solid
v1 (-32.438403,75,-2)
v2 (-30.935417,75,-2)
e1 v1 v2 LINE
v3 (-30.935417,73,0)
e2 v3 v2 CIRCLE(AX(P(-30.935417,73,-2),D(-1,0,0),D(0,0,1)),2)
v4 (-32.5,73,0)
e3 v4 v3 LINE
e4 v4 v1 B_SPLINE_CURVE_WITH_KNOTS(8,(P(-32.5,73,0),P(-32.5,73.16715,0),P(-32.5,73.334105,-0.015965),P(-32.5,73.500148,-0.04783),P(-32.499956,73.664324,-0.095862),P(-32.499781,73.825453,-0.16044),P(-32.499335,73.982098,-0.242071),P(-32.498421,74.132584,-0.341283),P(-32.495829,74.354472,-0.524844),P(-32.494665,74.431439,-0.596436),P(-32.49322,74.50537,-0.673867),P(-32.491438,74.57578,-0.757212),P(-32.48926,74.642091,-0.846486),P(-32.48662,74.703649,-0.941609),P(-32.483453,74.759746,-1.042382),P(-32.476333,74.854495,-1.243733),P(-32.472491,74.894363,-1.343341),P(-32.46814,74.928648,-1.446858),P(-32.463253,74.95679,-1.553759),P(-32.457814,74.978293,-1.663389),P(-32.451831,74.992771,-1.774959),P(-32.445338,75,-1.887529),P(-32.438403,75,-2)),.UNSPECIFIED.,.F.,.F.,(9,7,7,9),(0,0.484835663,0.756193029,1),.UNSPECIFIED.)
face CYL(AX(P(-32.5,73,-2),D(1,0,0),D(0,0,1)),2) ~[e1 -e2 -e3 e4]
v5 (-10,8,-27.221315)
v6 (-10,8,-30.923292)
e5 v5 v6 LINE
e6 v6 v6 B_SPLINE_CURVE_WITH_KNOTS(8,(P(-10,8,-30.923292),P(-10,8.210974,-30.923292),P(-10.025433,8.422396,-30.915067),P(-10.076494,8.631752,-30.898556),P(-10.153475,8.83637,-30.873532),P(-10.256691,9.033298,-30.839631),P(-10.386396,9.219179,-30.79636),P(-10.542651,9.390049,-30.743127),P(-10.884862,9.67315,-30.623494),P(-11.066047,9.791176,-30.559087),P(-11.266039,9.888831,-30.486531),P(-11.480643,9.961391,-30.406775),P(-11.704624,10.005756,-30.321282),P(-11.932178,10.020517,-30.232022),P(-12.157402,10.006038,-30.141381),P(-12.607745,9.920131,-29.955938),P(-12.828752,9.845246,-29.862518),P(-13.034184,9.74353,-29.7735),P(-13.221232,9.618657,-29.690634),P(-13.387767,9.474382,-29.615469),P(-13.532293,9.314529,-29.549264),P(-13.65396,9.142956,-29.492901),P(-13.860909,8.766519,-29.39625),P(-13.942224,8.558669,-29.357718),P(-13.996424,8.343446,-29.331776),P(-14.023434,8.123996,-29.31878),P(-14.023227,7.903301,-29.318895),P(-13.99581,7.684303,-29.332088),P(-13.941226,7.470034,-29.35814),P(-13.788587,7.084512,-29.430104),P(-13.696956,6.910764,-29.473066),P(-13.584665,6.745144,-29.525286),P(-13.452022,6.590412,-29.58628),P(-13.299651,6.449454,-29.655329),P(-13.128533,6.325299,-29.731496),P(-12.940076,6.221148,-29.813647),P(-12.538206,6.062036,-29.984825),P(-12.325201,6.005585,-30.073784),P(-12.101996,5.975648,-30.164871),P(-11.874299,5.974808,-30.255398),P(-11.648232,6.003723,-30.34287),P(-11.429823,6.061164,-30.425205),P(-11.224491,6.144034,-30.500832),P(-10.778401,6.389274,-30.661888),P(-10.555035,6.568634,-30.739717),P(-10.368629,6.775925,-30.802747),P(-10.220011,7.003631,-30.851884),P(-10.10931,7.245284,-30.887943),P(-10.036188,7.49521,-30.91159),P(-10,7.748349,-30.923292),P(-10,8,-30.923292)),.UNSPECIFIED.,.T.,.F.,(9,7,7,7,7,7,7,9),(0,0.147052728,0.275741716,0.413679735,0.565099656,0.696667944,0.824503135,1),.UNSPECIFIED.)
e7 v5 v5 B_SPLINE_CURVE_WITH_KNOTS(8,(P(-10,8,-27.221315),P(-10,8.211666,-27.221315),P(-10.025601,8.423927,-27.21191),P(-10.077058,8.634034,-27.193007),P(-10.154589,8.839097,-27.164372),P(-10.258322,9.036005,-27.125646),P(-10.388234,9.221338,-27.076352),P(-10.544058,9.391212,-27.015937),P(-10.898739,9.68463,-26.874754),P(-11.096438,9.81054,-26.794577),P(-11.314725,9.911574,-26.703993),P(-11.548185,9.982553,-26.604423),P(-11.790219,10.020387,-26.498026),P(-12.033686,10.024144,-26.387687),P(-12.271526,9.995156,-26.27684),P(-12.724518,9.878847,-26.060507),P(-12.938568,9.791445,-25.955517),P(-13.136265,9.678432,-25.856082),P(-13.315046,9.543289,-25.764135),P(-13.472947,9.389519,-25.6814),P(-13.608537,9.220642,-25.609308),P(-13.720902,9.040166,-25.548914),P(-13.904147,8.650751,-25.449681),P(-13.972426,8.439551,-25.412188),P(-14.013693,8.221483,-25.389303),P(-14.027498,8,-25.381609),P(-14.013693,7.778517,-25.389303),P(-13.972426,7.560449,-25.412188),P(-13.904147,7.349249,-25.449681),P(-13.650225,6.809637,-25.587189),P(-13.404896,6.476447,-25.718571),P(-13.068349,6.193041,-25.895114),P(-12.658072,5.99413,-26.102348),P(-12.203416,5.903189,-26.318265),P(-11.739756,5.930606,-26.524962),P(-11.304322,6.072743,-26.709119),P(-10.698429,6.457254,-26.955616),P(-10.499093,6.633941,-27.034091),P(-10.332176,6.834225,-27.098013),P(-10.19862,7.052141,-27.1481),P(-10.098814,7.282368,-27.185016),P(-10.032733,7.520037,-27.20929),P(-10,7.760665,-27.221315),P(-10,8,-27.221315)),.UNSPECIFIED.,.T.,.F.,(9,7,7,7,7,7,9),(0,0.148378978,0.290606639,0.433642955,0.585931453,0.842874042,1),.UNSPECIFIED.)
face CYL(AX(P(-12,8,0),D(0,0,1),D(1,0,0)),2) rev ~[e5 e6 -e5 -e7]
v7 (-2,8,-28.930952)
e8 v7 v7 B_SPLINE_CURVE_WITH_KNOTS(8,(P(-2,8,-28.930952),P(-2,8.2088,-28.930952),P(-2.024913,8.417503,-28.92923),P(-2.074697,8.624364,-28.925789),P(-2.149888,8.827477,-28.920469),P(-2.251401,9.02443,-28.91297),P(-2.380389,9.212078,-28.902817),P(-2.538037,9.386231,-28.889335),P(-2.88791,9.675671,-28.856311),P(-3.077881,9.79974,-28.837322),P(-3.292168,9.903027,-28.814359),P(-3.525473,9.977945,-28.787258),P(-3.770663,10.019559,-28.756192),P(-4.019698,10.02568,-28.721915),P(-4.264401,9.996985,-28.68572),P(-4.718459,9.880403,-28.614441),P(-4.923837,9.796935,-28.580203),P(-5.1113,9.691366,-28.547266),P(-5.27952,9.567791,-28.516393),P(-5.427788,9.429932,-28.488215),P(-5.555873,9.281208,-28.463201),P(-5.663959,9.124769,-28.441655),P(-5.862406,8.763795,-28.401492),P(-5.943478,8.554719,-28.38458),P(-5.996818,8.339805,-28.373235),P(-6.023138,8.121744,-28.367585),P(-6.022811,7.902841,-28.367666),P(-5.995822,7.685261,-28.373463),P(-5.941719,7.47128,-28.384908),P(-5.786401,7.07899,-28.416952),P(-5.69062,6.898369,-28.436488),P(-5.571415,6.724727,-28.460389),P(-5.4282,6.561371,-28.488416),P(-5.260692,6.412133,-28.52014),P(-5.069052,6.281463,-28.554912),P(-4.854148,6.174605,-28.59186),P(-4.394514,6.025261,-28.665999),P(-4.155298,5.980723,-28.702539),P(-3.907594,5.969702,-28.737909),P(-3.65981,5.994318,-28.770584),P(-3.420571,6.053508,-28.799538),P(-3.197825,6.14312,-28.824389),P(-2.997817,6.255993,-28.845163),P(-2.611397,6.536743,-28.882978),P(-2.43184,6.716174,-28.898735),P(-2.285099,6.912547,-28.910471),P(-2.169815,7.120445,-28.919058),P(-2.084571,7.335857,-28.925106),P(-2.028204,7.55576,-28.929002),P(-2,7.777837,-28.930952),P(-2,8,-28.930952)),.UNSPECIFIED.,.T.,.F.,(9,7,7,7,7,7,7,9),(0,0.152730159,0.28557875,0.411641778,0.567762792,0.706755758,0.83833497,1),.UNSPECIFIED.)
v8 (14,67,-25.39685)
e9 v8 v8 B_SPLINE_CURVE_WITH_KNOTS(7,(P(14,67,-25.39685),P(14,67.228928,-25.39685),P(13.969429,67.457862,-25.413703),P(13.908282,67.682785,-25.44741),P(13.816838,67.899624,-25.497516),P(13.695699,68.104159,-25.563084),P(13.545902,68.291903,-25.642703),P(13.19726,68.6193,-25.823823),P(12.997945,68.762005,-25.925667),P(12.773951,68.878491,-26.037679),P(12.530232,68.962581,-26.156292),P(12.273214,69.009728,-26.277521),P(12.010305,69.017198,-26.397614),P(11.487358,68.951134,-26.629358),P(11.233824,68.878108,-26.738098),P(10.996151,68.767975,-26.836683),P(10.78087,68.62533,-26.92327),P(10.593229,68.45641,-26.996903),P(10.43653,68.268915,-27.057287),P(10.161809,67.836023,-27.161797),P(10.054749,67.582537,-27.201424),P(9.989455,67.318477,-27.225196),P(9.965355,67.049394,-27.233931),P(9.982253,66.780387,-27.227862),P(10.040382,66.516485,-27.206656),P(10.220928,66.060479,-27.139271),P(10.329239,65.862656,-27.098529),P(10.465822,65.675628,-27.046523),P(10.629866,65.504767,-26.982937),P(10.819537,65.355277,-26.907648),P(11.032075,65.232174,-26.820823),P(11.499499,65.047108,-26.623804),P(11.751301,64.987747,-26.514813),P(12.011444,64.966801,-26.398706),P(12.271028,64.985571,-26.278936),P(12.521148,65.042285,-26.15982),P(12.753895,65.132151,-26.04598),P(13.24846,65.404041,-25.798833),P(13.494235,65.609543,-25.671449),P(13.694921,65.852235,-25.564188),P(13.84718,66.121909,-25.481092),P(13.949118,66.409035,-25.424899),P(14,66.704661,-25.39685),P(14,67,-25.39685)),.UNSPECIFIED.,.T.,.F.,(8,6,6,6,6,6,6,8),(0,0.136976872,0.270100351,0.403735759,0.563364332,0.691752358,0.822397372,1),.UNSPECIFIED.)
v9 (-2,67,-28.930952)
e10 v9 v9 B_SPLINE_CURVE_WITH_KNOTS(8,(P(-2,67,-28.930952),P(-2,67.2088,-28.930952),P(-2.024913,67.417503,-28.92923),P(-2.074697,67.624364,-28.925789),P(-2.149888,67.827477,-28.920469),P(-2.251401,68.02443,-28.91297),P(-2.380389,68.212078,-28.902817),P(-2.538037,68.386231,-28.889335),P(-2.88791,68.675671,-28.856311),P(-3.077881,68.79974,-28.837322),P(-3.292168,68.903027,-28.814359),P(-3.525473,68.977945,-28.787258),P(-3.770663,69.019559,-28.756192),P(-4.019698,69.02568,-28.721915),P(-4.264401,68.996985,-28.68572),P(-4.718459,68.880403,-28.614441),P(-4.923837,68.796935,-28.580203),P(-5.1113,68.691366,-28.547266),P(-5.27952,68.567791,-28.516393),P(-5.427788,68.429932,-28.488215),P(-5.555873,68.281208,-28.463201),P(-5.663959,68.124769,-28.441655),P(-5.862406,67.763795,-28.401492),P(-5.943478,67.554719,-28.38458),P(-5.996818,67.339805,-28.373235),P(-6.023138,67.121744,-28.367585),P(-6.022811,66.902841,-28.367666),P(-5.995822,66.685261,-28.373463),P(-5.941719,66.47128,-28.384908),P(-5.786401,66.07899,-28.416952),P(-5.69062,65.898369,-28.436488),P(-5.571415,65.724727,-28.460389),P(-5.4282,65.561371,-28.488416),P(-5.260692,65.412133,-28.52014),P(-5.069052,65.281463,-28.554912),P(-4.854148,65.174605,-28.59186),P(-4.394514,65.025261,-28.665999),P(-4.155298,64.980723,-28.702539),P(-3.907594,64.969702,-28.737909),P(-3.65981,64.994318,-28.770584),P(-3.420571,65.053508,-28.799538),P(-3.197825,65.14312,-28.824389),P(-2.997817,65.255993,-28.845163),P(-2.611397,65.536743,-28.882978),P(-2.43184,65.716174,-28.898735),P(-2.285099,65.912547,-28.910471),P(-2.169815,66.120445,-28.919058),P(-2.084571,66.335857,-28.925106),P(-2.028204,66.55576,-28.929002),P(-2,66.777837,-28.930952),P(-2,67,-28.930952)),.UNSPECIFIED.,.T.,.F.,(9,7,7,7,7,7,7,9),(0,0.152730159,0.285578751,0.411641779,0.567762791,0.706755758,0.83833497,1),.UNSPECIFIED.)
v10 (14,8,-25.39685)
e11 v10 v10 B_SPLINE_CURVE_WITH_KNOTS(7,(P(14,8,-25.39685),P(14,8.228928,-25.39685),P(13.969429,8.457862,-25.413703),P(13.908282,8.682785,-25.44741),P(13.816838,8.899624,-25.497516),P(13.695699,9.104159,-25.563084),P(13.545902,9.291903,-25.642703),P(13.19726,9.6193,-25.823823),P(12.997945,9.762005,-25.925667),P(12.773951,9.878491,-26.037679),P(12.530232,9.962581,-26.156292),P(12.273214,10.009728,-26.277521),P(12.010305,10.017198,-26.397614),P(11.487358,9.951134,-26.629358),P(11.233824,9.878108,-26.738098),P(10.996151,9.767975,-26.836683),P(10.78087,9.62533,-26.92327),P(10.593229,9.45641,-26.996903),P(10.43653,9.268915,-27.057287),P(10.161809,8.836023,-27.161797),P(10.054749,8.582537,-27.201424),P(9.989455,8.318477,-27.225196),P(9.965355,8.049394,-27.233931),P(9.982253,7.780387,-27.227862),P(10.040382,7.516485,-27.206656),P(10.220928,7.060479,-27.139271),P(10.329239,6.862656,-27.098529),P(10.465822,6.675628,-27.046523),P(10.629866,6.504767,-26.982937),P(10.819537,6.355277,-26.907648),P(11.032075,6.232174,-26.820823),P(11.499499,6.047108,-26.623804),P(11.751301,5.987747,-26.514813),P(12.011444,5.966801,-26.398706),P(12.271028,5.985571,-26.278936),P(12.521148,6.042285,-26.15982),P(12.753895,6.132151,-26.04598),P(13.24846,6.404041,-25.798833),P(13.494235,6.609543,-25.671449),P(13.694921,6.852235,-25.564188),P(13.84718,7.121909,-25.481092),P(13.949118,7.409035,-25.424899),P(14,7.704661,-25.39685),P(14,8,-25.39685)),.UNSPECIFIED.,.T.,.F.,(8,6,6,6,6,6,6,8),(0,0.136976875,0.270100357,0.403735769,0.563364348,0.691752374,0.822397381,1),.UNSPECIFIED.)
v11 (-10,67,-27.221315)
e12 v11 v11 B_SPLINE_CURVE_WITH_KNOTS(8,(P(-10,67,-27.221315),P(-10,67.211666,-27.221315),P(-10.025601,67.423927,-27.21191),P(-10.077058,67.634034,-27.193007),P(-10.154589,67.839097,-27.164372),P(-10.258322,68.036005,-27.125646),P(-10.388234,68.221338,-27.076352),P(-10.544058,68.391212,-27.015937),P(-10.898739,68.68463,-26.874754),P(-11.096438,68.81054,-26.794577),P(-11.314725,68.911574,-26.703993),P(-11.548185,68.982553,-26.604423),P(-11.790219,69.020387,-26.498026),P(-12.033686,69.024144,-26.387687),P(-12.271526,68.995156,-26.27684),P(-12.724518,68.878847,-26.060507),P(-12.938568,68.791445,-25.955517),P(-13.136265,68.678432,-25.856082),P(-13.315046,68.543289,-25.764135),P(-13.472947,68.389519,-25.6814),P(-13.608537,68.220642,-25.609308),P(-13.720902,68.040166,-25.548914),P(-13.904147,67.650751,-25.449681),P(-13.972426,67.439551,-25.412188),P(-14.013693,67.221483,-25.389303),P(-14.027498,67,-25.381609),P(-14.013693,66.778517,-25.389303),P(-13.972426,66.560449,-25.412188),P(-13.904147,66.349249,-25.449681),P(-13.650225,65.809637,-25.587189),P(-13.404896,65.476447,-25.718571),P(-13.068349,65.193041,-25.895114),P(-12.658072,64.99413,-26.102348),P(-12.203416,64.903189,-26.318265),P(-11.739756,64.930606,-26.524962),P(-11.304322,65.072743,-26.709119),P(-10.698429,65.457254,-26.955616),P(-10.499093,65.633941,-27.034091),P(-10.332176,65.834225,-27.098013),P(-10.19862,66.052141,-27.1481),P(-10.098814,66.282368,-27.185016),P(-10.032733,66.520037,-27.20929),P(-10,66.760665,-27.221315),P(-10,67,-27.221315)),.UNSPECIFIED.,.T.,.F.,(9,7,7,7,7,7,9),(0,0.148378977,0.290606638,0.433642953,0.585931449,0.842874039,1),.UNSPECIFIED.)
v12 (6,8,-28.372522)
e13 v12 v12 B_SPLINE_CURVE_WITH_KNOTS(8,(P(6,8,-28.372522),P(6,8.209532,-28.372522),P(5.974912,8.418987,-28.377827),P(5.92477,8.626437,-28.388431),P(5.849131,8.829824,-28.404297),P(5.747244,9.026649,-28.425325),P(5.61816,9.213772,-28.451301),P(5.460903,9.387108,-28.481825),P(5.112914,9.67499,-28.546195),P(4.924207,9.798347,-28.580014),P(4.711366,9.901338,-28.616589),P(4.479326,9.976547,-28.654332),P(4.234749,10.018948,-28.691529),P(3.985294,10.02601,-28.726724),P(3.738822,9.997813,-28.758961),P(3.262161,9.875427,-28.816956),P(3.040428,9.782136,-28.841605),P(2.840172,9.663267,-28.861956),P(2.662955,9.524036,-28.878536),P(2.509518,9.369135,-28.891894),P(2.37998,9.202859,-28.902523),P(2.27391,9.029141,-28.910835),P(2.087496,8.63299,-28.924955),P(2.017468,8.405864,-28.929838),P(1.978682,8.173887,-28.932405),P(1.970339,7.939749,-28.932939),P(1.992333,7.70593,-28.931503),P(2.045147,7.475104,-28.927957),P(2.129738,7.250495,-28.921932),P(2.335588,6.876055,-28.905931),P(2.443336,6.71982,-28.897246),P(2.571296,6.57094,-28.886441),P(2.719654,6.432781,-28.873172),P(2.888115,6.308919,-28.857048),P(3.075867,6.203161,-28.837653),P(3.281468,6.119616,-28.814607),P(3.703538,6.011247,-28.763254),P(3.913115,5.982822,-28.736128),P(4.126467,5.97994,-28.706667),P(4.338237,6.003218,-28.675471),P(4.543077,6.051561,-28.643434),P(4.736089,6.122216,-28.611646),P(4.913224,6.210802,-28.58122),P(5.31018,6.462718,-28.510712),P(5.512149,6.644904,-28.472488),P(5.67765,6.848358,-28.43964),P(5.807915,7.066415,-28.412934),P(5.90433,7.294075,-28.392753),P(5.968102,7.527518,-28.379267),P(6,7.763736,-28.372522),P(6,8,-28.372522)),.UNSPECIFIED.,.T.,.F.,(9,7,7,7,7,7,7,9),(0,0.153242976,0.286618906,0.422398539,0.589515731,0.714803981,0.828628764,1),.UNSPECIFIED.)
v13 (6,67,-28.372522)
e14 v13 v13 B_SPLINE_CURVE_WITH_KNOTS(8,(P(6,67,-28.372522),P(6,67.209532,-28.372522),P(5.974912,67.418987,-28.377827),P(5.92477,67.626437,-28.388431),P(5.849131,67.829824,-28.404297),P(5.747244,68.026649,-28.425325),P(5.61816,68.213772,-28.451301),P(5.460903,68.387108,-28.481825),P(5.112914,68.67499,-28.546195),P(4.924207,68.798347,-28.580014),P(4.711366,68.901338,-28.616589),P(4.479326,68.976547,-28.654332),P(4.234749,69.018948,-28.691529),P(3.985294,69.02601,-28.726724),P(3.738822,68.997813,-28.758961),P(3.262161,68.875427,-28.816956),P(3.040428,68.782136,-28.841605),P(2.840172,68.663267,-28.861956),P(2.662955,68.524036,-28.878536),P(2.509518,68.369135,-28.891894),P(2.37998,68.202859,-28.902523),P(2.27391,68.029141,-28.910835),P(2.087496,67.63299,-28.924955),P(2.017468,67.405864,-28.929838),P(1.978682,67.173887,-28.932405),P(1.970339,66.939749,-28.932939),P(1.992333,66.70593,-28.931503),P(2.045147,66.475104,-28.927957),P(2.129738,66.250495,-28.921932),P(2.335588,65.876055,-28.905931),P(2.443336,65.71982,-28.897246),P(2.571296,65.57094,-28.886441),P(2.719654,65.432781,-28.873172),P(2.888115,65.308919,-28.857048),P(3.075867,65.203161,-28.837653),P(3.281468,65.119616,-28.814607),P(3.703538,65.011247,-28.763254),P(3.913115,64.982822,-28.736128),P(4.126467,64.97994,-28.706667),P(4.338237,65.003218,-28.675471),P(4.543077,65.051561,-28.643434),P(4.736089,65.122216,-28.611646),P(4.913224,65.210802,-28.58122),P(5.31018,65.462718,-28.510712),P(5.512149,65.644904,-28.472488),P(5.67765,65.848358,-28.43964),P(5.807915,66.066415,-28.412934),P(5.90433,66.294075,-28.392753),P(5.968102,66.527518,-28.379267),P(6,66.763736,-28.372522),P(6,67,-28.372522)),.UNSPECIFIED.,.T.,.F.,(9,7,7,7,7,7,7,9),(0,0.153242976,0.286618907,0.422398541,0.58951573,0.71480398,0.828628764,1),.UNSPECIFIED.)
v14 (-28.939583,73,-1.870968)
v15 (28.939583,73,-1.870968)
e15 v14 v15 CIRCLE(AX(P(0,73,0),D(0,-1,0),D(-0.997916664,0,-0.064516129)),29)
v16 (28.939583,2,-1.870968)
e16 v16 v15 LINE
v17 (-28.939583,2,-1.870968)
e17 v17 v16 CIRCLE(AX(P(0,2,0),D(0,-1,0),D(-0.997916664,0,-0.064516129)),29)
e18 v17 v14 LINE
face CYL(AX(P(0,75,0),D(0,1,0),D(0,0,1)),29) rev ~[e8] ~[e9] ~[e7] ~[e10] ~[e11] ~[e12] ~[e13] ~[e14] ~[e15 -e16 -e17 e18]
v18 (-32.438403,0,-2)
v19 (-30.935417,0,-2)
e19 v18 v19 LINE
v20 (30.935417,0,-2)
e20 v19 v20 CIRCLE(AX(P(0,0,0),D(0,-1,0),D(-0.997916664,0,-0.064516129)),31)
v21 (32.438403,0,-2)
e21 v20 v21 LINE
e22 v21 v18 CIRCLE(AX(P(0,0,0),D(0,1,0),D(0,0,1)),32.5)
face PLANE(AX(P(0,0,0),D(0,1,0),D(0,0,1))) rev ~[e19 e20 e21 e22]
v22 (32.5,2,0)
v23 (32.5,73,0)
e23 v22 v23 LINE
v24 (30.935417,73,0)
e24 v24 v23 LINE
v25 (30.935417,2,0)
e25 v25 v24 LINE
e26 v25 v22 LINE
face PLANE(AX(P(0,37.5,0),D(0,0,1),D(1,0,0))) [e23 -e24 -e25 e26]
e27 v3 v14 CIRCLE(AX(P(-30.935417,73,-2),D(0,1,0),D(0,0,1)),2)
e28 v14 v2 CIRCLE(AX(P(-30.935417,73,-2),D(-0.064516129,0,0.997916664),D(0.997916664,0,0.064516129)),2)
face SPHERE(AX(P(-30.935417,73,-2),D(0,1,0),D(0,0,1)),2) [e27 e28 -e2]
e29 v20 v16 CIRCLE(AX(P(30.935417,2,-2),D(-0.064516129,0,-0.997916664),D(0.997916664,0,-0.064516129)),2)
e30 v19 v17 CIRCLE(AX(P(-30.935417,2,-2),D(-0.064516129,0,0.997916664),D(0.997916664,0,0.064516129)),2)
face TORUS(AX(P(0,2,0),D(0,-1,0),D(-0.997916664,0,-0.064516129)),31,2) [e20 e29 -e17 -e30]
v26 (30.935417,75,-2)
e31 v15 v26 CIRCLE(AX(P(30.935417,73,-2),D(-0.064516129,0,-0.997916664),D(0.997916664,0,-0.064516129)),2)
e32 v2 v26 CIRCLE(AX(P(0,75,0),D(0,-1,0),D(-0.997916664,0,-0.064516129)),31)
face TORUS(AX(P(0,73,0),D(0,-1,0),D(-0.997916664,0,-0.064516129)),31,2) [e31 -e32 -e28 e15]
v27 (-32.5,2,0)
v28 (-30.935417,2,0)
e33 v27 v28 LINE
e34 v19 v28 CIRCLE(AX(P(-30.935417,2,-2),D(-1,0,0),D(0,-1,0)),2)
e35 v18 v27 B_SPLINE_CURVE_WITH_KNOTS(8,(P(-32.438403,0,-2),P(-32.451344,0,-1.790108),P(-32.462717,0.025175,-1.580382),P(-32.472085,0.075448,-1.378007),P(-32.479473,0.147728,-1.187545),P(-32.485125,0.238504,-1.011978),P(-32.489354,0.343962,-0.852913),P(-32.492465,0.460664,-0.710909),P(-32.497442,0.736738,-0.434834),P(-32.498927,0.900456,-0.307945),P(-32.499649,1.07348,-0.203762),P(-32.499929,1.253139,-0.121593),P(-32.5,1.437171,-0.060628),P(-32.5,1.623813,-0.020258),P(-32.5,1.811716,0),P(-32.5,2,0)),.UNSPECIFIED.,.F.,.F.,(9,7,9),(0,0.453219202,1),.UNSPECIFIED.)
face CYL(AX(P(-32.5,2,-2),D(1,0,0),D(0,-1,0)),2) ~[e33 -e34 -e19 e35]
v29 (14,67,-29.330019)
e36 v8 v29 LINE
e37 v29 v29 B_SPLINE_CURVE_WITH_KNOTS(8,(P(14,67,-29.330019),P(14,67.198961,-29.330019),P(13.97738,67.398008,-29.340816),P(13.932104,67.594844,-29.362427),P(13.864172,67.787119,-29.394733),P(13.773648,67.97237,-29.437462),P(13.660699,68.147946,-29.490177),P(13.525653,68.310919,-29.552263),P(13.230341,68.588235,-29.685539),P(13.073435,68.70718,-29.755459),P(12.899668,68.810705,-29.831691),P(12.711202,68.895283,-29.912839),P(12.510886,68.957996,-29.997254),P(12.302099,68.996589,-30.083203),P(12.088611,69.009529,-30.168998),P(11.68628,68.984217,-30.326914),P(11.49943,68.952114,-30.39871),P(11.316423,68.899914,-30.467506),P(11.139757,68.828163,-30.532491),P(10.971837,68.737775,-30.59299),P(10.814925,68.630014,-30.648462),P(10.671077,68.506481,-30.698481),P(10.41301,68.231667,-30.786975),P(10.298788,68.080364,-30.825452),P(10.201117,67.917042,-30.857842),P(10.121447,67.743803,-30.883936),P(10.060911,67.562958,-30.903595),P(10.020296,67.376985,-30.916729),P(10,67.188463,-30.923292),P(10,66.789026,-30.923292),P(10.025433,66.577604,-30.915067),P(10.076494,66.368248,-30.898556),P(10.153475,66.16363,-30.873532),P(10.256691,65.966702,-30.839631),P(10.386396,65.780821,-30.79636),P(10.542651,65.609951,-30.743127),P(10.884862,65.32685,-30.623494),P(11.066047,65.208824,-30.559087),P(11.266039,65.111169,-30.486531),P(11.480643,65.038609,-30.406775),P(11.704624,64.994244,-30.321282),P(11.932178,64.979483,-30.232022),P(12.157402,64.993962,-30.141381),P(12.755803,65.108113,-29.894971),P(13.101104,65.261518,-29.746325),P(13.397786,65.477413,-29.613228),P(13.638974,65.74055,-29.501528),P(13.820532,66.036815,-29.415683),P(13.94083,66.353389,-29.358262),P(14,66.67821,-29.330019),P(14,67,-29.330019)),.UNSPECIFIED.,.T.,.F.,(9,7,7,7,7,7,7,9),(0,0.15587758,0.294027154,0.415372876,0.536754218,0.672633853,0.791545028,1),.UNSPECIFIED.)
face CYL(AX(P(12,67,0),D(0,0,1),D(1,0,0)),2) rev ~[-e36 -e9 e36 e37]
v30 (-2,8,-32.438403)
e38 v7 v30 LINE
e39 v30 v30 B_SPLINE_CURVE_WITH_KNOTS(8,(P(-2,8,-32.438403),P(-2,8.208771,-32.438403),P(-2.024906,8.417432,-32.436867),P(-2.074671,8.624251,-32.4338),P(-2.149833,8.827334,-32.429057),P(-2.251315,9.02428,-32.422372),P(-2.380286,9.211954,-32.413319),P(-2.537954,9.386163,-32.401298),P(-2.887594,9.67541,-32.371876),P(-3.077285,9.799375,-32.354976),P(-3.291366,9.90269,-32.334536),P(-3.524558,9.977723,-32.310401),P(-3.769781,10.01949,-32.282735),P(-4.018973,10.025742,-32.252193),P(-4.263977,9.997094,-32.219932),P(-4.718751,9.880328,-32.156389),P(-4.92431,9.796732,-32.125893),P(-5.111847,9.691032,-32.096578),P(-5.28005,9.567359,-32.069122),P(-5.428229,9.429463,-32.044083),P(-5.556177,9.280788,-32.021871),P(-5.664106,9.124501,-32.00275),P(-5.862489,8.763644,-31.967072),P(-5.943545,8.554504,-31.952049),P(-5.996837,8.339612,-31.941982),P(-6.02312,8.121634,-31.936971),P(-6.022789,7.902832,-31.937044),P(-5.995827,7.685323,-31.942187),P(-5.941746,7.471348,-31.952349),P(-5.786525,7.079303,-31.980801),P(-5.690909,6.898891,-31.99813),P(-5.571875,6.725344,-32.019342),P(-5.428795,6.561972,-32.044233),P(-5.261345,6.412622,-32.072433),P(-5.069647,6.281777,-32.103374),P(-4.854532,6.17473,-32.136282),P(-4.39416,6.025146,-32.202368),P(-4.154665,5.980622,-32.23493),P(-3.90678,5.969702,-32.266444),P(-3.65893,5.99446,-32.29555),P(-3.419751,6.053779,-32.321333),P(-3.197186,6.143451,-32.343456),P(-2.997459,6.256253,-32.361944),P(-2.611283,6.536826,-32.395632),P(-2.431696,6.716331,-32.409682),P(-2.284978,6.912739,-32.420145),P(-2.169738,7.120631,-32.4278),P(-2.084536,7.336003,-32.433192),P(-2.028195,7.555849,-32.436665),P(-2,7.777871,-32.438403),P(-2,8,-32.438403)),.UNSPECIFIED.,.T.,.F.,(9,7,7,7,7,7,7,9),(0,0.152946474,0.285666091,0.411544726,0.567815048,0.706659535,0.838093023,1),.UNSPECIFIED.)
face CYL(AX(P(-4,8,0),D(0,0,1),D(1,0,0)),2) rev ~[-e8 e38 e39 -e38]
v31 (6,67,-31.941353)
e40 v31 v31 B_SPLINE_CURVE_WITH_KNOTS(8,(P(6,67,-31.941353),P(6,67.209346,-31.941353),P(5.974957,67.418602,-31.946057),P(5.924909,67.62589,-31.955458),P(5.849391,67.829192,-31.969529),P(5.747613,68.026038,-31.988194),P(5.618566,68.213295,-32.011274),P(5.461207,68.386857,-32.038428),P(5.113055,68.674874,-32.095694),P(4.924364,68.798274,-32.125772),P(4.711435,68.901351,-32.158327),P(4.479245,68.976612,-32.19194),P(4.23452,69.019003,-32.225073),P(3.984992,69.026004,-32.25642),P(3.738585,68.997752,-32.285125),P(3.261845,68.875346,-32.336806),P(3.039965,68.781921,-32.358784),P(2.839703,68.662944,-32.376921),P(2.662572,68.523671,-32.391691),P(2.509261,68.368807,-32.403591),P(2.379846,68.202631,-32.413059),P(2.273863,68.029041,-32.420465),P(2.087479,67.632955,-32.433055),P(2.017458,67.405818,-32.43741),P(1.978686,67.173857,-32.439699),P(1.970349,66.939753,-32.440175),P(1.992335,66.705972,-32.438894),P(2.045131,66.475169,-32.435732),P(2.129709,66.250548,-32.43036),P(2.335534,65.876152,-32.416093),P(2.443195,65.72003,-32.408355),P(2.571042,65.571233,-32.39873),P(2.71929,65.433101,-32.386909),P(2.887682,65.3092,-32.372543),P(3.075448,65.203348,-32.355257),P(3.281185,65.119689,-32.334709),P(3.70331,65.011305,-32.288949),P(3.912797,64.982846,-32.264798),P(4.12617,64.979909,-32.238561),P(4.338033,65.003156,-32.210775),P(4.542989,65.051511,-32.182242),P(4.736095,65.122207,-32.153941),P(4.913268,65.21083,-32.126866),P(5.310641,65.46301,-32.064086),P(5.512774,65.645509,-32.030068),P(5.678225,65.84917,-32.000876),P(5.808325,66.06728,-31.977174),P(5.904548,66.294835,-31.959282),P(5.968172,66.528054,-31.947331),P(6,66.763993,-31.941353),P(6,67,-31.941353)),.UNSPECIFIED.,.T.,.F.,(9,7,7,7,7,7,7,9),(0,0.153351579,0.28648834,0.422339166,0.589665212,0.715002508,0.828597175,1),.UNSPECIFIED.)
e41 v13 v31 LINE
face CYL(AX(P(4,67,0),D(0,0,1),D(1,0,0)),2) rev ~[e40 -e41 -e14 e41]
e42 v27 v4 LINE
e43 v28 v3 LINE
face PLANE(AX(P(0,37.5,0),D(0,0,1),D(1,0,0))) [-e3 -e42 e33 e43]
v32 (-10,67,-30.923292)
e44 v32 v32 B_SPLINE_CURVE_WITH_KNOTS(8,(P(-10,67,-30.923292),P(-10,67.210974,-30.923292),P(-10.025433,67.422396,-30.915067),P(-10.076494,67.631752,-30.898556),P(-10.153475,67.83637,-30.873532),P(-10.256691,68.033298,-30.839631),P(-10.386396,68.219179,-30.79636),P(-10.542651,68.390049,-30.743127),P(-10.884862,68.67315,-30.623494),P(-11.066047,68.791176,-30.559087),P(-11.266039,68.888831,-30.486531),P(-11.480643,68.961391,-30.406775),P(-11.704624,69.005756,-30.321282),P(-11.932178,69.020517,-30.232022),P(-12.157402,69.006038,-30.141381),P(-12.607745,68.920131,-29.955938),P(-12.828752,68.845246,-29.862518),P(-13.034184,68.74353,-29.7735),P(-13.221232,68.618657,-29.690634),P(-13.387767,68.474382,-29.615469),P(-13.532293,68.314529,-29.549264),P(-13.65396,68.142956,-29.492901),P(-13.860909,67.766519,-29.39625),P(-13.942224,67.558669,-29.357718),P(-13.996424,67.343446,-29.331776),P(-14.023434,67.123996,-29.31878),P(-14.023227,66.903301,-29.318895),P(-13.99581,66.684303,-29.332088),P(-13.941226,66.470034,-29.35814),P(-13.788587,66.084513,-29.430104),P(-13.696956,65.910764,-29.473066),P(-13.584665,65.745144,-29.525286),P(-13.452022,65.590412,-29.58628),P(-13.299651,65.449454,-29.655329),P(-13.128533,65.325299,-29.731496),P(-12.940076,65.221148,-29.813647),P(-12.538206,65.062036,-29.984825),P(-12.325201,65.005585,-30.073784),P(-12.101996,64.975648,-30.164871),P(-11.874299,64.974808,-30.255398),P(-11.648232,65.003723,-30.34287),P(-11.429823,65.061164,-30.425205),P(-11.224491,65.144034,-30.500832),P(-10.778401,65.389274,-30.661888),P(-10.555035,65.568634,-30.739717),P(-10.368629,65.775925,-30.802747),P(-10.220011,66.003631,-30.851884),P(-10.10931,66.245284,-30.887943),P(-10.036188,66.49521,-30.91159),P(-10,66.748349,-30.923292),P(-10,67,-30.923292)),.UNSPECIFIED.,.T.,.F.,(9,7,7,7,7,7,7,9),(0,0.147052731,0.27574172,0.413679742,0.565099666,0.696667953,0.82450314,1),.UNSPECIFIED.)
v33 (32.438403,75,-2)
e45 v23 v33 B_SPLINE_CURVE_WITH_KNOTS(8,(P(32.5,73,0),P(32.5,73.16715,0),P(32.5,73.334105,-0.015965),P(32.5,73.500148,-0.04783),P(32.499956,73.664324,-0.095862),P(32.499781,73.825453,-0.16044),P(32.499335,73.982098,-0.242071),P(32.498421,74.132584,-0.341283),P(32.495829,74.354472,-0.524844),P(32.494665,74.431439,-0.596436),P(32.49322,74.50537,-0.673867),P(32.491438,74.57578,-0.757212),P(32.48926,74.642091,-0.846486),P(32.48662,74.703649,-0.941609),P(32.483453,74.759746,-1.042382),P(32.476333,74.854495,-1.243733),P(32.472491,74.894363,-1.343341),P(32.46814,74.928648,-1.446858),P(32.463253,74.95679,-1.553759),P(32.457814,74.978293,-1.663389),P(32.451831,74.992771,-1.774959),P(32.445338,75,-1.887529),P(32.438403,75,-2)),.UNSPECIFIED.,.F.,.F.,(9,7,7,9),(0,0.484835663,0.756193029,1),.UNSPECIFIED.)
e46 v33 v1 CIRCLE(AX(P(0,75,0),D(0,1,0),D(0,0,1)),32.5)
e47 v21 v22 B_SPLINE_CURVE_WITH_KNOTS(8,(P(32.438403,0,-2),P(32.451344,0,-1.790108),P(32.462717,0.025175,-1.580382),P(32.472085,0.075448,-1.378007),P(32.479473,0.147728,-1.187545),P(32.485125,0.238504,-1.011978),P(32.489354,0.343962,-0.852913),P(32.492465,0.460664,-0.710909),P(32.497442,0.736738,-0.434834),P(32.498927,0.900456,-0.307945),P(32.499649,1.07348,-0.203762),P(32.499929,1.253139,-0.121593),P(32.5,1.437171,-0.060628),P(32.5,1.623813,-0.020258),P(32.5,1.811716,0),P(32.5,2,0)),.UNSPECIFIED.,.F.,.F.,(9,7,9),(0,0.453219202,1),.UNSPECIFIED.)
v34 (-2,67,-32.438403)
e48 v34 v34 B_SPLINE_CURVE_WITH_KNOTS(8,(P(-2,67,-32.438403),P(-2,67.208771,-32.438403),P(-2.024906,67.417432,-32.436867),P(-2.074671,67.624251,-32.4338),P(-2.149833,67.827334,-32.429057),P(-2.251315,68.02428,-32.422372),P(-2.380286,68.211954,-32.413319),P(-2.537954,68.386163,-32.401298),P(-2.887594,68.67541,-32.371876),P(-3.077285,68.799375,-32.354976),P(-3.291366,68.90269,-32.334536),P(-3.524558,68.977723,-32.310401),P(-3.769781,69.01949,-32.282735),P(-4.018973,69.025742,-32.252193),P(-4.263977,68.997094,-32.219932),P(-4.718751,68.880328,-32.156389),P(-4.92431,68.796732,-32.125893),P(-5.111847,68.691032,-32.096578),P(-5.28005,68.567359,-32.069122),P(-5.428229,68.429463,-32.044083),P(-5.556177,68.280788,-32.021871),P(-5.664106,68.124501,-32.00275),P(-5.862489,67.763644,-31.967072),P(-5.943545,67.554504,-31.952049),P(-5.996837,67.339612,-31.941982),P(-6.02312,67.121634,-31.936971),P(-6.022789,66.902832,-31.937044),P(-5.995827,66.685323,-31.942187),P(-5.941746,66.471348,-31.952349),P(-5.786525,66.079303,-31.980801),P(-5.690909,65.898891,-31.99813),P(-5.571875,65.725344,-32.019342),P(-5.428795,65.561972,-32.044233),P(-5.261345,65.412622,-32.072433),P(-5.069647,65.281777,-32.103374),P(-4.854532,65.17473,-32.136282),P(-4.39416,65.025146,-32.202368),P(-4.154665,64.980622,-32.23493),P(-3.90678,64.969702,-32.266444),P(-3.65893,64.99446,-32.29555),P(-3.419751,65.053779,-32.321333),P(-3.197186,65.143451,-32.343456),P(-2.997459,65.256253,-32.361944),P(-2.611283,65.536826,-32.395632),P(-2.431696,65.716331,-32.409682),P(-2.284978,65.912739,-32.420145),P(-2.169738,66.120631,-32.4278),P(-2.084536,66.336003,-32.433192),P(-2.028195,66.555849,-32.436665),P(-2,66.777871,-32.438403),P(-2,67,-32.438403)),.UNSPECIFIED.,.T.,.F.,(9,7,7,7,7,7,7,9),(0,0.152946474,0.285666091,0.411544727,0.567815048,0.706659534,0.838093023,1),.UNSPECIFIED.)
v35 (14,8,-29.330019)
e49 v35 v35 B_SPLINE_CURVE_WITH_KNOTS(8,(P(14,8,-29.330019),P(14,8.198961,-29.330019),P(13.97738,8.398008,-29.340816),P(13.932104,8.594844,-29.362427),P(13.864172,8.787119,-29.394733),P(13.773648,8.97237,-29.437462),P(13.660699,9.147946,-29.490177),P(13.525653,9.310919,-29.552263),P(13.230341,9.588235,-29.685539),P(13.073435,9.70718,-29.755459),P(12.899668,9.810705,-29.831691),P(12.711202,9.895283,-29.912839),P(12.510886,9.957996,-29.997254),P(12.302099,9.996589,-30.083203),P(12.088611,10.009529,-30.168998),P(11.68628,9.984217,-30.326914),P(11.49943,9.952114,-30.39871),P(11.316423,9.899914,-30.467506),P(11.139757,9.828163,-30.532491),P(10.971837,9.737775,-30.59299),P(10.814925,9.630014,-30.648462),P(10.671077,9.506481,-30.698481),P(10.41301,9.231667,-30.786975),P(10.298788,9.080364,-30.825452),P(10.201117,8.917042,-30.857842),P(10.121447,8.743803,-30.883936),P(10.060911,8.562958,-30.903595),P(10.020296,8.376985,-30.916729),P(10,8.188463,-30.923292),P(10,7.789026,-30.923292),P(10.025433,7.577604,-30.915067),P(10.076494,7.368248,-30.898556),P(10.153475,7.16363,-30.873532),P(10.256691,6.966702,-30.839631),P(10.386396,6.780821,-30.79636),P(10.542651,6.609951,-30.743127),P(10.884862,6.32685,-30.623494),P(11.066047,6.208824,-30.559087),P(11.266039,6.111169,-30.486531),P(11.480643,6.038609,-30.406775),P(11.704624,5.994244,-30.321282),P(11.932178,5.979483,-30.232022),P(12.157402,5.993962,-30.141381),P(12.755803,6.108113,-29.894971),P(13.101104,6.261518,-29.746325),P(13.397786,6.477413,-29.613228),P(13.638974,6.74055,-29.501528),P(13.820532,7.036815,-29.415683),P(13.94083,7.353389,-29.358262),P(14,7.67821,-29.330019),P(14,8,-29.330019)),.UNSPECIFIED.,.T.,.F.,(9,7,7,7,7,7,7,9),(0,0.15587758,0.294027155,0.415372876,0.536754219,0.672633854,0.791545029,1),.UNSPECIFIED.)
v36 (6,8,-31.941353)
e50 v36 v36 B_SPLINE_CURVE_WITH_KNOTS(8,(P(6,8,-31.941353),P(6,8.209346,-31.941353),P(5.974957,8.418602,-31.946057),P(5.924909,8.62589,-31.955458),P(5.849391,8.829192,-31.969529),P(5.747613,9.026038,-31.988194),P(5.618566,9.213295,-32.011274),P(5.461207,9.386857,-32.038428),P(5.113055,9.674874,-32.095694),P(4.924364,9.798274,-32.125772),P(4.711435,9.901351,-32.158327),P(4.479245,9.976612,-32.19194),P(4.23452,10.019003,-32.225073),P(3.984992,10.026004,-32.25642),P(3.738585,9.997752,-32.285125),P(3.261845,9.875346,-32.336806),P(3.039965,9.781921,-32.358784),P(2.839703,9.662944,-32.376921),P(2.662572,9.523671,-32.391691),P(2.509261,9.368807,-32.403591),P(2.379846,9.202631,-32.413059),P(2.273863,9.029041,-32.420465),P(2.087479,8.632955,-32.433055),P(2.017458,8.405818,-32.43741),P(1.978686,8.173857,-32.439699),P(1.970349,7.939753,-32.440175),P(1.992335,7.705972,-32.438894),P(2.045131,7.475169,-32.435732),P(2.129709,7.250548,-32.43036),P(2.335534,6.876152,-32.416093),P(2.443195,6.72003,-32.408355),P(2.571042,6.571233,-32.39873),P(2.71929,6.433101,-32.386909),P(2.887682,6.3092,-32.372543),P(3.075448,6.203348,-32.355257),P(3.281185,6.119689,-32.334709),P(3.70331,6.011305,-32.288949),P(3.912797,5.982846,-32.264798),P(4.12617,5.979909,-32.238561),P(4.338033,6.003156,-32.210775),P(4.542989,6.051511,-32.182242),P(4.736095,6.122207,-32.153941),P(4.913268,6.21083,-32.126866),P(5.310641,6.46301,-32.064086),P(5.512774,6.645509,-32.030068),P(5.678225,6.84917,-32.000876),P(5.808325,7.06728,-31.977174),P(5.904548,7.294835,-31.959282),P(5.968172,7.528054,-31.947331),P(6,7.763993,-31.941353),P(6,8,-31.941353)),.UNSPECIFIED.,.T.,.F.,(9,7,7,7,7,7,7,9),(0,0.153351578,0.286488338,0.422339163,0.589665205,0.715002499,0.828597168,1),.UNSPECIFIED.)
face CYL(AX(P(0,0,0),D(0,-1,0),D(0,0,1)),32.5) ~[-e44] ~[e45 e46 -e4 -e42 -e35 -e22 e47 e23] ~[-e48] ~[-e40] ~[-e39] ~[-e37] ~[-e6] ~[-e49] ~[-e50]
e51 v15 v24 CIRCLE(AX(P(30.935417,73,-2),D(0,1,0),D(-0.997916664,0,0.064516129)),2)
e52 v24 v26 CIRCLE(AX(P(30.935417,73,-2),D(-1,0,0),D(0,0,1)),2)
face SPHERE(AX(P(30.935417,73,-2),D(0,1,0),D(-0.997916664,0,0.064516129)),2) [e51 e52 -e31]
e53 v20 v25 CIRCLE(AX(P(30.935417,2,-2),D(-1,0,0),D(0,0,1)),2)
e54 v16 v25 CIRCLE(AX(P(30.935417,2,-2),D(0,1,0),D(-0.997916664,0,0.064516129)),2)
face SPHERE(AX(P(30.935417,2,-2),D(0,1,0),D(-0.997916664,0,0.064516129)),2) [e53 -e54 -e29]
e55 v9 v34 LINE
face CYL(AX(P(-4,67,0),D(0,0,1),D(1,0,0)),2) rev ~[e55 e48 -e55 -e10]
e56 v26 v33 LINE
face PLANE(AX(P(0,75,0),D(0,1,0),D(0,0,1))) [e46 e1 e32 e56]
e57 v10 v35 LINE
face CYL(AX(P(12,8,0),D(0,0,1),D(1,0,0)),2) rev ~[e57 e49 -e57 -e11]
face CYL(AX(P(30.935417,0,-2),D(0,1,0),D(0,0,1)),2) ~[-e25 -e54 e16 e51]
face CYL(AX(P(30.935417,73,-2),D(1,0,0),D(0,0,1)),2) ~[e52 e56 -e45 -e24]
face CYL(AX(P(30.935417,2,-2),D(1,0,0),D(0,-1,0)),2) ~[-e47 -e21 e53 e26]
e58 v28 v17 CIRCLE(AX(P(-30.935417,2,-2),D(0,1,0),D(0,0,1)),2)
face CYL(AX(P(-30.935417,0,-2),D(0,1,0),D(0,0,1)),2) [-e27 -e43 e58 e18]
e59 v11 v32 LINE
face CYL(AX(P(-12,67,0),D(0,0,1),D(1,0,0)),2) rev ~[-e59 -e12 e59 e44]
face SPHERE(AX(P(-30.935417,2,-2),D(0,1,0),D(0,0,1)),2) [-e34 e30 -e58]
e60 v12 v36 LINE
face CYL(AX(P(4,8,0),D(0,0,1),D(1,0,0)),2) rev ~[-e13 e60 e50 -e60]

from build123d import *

# Parameters (mm, degrees)
SKETCH_2_R          = 32.5
EXTRUDE_1_DEPTH     = 75
SKETCH_3_R          = 29
CUT_EXTRUDE_1_DEPTH = 142.5
SKETCH_4_W          = 65
SKETCH_4_H          = 75
CUT_EXTRUDE_2_DEPTH = 50
SKETCH_5_R          = 2
CUT_EXTRUDE_3_DEPTH = 50
FILLET_1_R          = 2
FILLET_2_R          = 2
FILLET_3_R          = 2


with BuildPart() as part:
    # 草圖2 → 填料-伸長1 (new body)
    with BuildSketch(Plane(origin=(0, 0, 0), x_dir=(1, 0, 0), z_dir=(0, 1, 0))):
        with Locations(Location((0, 0, 0), (0, 0, 270))):
            Circle(SKETCH_2_R)
    extrude(amount=EXTRUDE_1_DEPTH)

    # 草圖3 → 除料-伸長1 (cut, symmetric)
    with BuildSketch(Plane(origin=(0, 75, 0), x_dir=(1, 0, 0), z_dir=(0, 1, 0))):
        with Locations(Location((0, 0, 0), (0, 0, 270))):
            Circle(SKETCH_3_R)
    extrude(amount=CUT_EXTRUDE_1_DEPTH, both=True, mode=Mode.SUBTRACT)

    # 草圖4 → 除料-伸長2 (cut)
    with BuildSketch(Plane.XY):
        with Locations((0, 37.5)):
            Rectangle(SKETCH_4_W, SKETCH_4_H)
    extrude(amount=CUT_EXTRUDE_2_DEPTH, mode=Mode.SUBTRACT)

    # 草圖5 → 除料-伸長3 (cut)
    with BuildSketch(Plane.XY):
        with Locations((-4, 67)):
            Circle(SKETCH_5_R)
        with Locations((4, 67)):
            Circle(SKETCH_5_R)
        with Locations((12, 67)):
            Circle(SKETCH_5_R)
        with Locations((-12, 67)):
            Circle(SKETCH_5_R)
        with Locations((-12, 8)):
            Circle(SKETCH_5_R)
        with Locations((12, 8)):
            Circle(SKETCH_5_R)
        with Locations((4, 8)):
            Circle(SKETCH_5_R)
        with Locations((-4, 8)):
            Circle(SKETCH_5_R)
    extrude(amount=-CUT_EXTRUDE_3_DEPTH, mode=Mode.SUBTRACT)

    # 圓角1
    fillet_1_edges = [part.edges().sort_by_distance(p)[0] for p in [
        (-29, 37.5, 0),
        (29, 37.5, 0),
    ]]
    fillet(fillet_1_edges, radius=FILLET_1_R)

    # 圓角2
    fillet_2_edges = [part.edges().sort_by_distance(p)[0] for p in [
        (31.717708298, 75, 0),
        (0, 75, -29),
        (-31.717708298, 75, 0),
        (-29.567583368, 75, -0.540879629),
        (29.567583368, 75, -0.540879629),
    ]]
    fillet(fillet_2_edges, radius=FILLET_2_R)

    # 圓角3
    fillet_3_edges = [part.edges().sort_by_distance(p)[0] for p in [
        (-31.717708298, 0, 0),
        (31.717708298, 0, 0),
        (0, 0, -29),
        (-29.567583368, 0, -0.540879629),
        (29.567583368, 0, -0.540879629),
    ]]
    fillet(fillet_3_edges, radius=FILLET_3_R)


solid = part.part
